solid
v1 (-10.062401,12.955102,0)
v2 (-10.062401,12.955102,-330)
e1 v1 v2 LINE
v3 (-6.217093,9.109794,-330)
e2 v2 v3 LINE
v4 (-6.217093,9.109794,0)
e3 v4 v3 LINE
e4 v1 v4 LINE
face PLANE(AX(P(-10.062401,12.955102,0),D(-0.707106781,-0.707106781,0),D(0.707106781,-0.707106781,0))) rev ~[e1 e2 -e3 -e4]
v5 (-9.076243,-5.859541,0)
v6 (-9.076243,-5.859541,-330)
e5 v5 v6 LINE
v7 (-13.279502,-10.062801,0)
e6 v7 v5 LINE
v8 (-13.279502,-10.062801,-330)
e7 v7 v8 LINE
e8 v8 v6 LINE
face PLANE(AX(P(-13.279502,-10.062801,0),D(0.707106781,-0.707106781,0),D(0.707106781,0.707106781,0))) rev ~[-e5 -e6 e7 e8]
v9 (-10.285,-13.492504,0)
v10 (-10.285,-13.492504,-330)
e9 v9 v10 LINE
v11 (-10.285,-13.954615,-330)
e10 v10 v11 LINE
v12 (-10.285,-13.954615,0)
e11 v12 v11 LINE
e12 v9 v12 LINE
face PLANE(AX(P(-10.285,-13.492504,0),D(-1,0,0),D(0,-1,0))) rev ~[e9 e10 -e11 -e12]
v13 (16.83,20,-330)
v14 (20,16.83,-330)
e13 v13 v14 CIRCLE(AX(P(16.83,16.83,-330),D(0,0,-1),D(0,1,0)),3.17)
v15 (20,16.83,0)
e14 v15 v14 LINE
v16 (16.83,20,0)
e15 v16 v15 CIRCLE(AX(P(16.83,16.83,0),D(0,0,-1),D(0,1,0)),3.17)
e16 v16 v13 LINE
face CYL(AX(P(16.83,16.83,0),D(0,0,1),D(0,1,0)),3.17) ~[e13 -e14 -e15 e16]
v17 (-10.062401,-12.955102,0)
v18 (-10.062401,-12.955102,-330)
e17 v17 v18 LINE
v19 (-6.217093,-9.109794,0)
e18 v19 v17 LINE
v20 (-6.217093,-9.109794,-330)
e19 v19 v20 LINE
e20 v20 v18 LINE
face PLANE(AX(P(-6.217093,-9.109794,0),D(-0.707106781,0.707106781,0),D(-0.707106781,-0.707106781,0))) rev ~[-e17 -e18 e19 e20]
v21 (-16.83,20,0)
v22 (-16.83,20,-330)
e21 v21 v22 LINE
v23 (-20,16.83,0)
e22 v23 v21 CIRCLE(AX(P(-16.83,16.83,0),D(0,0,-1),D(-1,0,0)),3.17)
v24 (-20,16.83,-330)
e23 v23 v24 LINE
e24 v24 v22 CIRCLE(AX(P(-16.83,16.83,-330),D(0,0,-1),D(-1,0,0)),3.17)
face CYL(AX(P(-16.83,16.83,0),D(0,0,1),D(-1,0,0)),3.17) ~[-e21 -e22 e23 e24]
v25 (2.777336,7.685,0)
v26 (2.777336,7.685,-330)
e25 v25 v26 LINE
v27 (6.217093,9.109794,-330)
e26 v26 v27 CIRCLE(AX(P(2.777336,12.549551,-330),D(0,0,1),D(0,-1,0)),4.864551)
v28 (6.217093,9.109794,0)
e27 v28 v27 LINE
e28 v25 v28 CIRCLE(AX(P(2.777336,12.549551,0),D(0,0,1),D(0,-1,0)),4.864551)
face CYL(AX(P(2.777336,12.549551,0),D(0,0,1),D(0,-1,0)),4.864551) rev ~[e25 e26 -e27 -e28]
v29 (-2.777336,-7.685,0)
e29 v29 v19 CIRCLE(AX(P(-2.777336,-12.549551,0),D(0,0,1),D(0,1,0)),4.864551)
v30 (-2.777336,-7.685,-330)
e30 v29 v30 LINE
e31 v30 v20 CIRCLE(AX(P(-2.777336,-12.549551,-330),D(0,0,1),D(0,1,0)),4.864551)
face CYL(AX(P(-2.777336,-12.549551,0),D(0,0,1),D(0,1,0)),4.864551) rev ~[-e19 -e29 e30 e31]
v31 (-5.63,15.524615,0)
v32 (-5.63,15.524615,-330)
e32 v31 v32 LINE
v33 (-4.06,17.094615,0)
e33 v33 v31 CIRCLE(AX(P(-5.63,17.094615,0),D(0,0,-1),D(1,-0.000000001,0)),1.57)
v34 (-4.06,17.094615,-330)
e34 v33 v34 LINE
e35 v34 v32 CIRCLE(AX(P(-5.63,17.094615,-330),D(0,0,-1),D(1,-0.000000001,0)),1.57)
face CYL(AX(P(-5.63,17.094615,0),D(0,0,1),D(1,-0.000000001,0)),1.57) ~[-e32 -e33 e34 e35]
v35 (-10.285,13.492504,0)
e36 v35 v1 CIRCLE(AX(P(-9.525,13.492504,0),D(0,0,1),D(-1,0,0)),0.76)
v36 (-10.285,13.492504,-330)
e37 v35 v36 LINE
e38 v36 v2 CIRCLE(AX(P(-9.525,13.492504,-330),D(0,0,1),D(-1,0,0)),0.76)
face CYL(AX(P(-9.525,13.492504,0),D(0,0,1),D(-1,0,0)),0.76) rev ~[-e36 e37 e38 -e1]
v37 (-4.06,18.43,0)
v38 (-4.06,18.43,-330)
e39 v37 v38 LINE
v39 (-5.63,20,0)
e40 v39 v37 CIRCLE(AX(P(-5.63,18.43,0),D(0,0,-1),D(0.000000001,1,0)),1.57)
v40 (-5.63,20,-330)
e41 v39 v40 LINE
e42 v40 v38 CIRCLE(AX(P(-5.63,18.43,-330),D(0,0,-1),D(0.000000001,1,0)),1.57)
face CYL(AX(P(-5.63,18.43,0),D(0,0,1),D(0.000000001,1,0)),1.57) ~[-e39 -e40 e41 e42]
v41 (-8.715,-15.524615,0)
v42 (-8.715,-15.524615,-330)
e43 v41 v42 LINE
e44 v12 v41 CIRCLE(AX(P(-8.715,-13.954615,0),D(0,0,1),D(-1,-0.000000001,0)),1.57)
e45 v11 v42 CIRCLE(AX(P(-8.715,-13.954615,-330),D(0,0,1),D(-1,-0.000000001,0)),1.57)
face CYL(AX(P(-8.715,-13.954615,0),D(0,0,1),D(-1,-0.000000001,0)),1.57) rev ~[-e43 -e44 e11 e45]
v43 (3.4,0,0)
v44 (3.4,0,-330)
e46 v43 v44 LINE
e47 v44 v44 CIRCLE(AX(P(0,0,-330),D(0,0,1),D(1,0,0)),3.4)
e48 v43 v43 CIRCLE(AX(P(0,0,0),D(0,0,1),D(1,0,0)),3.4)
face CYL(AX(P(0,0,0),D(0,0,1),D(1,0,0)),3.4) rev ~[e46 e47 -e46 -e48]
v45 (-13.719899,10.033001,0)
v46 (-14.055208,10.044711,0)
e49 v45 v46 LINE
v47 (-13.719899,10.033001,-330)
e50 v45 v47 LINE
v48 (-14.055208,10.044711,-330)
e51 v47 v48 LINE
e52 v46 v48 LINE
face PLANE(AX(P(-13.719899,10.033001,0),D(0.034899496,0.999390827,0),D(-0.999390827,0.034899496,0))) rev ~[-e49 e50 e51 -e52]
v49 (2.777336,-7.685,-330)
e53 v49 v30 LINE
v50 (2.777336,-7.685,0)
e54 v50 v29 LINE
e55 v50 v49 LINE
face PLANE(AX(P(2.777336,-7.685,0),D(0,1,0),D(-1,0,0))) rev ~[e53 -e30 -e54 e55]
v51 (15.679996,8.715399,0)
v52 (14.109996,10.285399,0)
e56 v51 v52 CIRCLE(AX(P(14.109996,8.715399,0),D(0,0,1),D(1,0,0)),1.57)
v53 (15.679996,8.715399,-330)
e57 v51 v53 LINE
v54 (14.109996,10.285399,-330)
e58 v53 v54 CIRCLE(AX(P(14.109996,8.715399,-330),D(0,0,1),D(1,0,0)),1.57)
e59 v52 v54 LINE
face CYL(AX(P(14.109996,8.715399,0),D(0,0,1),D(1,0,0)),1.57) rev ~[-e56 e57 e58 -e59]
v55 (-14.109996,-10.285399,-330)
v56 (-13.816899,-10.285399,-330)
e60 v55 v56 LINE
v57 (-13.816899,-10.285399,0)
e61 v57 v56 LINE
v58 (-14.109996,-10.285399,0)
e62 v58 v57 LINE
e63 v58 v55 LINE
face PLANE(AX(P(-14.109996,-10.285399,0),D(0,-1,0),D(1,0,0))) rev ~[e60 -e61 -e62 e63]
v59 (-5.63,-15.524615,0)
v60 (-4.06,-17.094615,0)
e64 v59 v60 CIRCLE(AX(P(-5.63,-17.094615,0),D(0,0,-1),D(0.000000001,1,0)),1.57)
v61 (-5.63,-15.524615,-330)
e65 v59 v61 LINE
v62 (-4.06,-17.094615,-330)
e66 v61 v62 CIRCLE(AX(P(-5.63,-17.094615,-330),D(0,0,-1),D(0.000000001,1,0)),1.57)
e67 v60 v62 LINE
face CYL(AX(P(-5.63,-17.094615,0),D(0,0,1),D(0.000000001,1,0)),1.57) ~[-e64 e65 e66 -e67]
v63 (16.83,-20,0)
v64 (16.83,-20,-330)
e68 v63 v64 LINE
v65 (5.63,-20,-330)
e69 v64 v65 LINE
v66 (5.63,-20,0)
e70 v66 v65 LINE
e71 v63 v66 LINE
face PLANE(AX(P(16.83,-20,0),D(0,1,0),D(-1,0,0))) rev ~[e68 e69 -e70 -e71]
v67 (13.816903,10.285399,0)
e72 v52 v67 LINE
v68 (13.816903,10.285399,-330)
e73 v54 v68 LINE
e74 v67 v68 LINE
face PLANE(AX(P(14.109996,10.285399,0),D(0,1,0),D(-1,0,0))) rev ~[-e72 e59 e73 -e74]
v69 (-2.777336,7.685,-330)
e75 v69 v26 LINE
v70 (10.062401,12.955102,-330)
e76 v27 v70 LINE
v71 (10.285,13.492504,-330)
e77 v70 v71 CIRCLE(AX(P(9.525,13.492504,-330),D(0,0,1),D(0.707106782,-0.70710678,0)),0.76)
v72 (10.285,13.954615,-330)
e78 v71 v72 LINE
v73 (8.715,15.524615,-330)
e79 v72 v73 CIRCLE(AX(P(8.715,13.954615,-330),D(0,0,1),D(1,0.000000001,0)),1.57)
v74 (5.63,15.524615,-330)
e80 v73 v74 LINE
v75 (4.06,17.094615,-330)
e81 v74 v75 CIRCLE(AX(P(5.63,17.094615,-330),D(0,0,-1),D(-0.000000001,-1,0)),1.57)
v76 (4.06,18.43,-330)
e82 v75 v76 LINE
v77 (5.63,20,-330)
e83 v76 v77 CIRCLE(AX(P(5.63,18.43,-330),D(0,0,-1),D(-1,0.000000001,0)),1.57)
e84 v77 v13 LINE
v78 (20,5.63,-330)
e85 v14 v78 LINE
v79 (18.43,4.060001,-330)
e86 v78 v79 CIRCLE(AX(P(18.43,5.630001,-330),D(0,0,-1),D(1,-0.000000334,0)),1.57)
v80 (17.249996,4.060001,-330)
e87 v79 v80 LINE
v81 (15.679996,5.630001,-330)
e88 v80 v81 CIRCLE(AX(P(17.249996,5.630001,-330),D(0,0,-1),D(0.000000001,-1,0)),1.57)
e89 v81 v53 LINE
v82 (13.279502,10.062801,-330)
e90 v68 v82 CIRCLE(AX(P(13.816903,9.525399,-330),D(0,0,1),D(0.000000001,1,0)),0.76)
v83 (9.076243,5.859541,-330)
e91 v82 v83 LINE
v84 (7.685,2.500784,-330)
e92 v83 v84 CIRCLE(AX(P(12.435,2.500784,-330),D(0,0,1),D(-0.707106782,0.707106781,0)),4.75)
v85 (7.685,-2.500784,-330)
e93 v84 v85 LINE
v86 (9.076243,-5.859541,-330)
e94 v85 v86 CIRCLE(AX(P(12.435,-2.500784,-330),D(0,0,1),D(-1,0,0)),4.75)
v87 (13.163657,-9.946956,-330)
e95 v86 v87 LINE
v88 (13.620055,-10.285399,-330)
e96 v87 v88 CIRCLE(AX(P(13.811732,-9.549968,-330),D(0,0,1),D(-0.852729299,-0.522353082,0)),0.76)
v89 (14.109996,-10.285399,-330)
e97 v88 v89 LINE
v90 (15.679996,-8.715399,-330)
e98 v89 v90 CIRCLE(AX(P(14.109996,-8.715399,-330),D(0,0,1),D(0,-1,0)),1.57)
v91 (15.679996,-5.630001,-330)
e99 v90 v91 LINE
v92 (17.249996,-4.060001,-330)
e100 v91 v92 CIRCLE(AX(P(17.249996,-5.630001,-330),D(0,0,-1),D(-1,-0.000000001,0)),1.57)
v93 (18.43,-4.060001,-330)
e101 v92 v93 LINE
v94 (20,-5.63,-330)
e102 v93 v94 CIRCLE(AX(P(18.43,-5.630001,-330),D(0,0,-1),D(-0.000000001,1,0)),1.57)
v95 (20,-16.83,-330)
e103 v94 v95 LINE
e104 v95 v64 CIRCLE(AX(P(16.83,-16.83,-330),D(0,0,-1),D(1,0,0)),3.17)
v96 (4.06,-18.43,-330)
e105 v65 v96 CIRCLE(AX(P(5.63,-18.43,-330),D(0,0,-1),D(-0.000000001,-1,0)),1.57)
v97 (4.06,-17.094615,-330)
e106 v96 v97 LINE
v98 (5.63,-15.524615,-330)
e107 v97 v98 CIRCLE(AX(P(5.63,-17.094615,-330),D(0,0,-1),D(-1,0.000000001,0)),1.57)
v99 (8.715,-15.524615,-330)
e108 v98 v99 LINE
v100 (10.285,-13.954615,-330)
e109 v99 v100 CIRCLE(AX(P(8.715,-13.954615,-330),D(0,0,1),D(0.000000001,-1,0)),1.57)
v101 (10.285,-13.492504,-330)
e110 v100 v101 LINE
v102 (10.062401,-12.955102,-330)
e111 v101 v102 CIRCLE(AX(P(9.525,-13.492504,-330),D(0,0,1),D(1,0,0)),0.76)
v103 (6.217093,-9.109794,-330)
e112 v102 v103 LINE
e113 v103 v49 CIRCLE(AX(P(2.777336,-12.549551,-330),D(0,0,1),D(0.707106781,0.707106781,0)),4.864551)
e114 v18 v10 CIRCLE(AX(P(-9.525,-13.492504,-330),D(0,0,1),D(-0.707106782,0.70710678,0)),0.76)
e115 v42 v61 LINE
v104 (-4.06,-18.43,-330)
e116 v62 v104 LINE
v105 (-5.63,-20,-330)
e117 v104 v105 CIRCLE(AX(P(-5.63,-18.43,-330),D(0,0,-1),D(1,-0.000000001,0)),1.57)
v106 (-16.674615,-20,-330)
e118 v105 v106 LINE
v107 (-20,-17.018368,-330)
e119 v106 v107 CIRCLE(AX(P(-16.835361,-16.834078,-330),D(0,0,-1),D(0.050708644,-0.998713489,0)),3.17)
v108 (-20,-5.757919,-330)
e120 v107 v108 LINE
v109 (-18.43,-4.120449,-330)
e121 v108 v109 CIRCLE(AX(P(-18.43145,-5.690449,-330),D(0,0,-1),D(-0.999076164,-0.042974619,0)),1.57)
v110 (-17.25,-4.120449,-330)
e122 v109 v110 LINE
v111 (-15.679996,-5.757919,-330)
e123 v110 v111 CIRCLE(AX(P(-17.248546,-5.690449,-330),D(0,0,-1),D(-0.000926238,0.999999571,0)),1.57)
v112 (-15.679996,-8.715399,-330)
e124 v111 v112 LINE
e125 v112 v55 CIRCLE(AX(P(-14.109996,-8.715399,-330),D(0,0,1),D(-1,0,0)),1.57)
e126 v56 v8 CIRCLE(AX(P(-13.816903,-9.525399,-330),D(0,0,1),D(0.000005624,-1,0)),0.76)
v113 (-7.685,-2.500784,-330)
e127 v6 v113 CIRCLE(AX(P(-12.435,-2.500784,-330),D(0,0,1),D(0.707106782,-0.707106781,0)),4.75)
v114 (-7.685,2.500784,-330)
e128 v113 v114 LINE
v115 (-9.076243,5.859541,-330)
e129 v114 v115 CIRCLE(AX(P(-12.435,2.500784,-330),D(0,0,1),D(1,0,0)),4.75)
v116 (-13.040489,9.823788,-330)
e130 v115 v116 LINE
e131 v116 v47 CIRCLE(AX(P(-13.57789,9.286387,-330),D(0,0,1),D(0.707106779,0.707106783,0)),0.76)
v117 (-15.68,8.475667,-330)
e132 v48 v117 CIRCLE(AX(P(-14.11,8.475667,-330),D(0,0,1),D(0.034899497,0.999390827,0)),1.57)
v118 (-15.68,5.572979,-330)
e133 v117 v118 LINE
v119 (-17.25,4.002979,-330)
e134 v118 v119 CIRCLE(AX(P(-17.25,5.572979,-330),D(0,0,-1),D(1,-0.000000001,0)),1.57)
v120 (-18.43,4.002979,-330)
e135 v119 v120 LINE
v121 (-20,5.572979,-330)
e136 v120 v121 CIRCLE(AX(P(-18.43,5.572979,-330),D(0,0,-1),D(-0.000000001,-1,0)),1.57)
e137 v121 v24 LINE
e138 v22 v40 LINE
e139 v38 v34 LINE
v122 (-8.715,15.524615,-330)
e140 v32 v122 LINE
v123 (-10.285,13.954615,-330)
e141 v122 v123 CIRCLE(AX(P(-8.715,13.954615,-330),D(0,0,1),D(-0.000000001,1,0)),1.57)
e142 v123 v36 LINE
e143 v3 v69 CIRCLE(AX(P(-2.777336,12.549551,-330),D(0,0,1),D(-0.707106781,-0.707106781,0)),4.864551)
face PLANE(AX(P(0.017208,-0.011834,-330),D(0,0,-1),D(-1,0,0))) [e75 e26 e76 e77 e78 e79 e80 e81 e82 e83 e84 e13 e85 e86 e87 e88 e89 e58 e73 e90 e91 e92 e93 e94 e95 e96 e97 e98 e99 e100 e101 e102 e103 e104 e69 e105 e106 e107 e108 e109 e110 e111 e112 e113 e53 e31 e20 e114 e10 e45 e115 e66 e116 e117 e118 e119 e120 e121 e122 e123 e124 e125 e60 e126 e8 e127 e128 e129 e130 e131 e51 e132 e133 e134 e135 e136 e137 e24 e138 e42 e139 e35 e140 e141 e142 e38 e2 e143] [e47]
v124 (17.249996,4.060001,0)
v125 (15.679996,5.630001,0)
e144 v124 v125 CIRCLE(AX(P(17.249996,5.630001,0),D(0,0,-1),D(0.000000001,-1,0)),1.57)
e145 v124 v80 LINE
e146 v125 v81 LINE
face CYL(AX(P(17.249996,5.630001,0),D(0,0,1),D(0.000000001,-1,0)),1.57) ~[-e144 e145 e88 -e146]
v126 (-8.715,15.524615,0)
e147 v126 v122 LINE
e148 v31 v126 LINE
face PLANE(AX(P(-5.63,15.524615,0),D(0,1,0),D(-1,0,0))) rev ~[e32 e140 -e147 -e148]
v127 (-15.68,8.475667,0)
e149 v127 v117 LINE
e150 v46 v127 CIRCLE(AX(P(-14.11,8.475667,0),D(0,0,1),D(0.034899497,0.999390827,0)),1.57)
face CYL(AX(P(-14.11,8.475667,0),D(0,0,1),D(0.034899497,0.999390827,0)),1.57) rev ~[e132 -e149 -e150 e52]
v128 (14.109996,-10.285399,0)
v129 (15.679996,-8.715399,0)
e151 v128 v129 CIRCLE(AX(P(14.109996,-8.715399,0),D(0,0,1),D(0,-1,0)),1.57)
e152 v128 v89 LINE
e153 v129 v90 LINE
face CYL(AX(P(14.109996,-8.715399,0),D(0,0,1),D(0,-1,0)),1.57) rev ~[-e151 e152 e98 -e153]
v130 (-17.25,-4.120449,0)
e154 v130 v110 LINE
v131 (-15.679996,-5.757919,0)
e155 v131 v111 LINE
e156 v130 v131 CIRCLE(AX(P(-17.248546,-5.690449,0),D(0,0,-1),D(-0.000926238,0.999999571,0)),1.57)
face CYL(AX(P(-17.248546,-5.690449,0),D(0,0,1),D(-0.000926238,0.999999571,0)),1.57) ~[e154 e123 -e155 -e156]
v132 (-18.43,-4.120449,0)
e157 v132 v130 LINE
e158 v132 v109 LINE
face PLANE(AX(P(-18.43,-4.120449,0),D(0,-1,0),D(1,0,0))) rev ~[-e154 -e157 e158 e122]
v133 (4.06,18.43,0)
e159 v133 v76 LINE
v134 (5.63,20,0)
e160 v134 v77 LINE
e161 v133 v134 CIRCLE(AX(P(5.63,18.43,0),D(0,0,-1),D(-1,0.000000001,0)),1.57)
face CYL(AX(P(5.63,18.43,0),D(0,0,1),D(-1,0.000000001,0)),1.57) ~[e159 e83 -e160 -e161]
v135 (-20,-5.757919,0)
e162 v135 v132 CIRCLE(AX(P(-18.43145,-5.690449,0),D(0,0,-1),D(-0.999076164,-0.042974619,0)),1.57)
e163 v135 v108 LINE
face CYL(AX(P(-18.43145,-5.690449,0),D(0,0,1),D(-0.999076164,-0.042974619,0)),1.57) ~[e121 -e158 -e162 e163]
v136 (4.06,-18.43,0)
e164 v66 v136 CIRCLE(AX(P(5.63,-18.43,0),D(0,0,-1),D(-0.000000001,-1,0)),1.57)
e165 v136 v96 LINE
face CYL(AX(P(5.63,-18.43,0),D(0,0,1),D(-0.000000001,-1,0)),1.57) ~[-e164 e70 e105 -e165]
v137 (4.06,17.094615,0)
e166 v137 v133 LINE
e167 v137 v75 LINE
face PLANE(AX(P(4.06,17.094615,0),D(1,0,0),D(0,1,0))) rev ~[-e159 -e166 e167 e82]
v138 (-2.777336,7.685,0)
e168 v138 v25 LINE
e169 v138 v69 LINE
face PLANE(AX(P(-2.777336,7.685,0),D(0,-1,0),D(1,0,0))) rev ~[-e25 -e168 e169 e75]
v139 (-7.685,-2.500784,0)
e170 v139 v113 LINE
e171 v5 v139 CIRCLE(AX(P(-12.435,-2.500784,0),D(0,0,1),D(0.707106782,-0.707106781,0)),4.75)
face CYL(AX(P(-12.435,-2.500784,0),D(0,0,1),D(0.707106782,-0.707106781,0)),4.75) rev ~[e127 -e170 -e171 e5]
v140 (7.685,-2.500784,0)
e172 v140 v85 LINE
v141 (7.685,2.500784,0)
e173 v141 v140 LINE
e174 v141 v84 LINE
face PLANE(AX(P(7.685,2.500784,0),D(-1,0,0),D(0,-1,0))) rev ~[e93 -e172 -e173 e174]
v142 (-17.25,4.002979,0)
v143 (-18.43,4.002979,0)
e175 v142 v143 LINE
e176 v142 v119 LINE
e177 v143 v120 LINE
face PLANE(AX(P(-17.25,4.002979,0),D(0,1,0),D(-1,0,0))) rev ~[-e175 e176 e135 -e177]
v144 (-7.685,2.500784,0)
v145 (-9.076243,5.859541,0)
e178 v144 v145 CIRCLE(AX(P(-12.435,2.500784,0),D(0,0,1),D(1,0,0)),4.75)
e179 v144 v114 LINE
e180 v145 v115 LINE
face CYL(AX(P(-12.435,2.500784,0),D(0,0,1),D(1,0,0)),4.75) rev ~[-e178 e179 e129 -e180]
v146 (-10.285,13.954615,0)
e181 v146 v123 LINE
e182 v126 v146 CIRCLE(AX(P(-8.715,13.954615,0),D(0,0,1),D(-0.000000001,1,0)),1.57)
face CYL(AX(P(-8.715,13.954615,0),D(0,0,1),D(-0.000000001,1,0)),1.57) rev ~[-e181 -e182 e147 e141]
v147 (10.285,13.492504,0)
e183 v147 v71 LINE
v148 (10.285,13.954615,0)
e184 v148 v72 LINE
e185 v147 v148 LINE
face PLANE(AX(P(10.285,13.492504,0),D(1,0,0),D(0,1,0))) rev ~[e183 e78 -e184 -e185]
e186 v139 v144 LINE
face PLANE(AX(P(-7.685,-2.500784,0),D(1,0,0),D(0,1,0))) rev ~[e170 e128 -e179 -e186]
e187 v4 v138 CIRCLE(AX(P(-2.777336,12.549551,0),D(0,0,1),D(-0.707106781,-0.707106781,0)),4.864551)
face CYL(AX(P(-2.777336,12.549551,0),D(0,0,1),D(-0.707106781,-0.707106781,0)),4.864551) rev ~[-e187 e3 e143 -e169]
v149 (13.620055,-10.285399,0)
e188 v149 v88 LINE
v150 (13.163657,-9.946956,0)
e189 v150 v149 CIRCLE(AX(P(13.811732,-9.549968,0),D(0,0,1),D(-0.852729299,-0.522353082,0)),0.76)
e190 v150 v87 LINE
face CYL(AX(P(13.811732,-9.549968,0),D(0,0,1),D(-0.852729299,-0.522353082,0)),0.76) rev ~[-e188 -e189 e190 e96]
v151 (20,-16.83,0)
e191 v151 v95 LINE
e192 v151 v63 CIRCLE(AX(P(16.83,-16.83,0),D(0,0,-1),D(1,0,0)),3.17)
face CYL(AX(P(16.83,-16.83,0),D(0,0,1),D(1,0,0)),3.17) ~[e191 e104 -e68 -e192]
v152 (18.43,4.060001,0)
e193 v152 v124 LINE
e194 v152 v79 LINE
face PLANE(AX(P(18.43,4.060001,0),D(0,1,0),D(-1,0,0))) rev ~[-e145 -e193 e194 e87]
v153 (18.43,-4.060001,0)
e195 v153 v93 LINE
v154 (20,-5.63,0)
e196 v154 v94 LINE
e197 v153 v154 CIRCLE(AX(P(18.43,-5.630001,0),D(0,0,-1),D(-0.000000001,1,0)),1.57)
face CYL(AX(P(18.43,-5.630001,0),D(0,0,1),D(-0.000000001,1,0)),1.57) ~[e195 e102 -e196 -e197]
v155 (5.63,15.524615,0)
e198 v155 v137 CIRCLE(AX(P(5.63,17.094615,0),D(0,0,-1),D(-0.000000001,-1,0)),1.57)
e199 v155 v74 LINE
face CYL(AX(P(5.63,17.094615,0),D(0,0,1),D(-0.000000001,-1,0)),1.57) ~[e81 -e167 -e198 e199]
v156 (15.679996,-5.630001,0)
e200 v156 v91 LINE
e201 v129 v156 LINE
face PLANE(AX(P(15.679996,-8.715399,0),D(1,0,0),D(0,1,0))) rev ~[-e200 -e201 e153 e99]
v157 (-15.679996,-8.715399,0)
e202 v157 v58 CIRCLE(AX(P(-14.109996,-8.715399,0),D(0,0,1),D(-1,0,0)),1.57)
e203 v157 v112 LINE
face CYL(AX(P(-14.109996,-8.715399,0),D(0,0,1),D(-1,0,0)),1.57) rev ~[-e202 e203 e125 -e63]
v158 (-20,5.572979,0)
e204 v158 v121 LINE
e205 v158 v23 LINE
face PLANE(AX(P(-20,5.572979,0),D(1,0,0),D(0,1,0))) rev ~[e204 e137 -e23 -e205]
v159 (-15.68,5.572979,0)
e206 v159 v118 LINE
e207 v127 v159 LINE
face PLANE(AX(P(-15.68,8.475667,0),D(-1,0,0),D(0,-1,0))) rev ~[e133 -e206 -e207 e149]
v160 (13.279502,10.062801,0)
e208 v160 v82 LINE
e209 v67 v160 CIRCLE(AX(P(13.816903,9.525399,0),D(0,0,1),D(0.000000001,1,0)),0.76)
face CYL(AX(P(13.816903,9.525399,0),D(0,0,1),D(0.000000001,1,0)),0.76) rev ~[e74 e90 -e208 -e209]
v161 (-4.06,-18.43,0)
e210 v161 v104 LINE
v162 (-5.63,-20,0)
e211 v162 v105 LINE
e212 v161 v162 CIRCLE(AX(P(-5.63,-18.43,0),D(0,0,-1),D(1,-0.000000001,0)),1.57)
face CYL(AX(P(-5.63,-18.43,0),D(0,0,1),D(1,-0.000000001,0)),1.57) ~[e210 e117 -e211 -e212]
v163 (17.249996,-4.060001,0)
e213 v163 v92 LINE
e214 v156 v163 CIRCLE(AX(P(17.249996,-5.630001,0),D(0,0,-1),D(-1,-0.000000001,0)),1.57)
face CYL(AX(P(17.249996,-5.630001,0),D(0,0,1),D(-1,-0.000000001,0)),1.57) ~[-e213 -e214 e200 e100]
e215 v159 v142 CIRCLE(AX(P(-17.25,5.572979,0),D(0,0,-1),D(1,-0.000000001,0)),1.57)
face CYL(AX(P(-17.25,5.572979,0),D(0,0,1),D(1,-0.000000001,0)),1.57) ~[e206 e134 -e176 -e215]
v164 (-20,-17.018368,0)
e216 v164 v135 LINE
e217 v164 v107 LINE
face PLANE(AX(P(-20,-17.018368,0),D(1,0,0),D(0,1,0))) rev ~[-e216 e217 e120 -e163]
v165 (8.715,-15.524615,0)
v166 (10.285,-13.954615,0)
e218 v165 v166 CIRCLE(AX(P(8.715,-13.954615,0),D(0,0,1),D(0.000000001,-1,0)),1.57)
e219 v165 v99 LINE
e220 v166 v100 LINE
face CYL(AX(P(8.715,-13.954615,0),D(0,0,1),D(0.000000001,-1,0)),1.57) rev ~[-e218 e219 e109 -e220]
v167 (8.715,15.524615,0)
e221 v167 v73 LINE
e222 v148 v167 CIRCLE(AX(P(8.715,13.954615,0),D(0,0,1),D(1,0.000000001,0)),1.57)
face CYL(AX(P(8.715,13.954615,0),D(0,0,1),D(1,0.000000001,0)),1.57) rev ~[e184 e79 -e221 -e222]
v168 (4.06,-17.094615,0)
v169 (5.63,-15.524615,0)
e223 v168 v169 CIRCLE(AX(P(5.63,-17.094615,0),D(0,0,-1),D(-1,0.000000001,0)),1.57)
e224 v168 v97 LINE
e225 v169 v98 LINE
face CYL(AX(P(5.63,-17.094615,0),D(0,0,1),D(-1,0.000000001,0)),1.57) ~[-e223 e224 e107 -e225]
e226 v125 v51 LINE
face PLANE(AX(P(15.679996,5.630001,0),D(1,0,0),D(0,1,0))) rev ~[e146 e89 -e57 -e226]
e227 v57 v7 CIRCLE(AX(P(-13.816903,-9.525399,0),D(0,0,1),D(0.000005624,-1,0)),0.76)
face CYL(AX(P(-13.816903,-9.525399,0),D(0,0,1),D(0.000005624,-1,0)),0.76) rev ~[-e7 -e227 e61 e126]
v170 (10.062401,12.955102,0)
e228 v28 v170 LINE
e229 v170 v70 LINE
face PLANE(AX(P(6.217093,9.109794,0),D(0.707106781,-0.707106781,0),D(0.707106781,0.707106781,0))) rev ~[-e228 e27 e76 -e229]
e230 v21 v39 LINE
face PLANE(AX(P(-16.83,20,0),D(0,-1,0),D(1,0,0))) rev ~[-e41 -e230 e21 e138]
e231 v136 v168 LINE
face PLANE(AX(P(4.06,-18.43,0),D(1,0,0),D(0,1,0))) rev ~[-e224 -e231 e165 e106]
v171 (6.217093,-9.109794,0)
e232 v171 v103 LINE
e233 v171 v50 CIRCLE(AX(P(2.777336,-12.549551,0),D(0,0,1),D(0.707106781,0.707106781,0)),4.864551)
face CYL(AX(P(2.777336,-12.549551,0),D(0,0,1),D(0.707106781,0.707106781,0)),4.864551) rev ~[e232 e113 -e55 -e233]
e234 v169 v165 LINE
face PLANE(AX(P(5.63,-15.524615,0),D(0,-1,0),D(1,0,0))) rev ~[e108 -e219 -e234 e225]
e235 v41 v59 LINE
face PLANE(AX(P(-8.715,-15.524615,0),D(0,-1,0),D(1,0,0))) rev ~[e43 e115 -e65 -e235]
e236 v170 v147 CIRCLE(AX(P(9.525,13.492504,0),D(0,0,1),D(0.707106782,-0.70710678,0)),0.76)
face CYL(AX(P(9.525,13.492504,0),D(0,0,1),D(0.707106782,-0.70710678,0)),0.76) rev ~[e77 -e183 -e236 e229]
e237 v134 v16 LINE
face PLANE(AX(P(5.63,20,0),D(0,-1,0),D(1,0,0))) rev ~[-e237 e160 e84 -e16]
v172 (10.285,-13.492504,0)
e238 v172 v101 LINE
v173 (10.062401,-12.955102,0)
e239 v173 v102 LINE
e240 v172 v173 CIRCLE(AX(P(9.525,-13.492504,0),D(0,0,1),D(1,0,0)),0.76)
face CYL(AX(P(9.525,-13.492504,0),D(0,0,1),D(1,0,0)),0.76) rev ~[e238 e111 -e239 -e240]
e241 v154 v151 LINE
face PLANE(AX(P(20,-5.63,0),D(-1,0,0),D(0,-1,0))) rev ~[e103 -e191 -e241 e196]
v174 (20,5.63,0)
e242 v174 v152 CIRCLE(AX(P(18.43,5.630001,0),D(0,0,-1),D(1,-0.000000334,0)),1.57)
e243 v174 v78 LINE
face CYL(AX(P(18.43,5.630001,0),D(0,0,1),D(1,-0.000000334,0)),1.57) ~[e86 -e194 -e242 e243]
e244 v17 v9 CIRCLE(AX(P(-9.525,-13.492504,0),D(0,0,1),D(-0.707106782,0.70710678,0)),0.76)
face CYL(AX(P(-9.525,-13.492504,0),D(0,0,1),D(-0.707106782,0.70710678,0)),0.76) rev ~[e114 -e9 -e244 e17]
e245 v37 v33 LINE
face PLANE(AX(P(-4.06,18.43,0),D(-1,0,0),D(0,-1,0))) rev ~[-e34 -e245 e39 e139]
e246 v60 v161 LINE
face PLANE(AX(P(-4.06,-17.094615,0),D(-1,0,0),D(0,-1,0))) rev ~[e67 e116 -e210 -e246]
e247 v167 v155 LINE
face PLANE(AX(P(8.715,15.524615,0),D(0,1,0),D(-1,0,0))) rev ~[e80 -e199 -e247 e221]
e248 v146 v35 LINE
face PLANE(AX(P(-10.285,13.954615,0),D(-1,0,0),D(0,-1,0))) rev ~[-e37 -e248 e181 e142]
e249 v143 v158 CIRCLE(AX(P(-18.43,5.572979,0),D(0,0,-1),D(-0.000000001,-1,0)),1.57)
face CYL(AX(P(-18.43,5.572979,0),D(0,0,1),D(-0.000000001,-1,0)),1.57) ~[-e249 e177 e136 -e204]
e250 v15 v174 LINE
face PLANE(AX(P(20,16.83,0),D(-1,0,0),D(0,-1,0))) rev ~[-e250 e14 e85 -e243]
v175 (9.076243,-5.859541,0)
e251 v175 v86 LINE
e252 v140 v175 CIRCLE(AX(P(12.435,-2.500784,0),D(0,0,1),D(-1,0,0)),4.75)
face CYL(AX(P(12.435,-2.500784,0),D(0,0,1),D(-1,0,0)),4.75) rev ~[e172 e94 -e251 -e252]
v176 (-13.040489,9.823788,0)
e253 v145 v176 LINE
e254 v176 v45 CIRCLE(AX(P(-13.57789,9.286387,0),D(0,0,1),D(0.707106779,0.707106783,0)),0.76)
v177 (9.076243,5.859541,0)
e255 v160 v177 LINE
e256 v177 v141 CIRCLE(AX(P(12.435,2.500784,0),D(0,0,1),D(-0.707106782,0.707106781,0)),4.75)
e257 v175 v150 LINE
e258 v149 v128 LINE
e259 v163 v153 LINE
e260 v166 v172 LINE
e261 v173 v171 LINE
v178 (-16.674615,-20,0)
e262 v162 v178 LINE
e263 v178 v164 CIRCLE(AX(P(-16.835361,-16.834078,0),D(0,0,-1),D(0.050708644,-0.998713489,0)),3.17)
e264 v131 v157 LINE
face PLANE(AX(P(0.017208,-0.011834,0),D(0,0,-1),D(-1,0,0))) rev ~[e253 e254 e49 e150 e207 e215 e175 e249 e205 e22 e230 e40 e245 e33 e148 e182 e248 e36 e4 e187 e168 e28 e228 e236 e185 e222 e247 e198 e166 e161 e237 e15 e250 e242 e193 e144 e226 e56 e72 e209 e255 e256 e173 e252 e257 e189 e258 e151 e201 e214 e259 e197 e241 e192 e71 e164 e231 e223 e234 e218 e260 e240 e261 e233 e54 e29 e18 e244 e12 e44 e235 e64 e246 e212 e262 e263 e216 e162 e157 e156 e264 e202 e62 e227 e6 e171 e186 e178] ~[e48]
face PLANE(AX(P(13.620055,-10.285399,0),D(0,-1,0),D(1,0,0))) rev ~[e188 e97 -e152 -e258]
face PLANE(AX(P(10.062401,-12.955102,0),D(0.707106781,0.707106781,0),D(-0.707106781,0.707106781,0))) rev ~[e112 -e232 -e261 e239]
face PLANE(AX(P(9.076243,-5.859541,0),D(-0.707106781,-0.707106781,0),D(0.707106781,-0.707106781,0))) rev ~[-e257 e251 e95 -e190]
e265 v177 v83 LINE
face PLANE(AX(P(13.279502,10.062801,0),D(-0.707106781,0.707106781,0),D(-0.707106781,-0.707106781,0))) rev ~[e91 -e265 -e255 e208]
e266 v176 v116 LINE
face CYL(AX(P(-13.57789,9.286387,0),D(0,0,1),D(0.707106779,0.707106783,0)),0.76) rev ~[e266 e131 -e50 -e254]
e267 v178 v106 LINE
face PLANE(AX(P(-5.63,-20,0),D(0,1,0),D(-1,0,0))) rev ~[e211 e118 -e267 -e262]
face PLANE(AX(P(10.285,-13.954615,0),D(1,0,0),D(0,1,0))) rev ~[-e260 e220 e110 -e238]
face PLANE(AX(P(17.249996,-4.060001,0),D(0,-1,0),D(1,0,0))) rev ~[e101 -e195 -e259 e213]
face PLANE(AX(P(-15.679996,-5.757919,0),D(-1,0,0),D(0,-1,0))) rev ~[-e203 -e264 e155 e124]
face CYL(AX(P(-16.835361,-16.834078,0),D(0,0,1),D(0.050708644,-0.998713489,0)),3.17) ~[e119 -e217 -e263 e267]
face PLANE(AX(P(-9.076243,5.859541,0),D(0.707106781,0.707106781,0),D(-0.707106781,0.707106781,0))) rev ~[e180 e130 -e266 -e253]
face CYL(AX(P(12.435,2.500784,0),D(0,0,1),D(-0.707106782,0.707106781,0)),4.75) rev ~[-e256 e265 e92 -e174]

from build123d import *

# Parameters (mm, degrees)
SKETCH1_R      = 3.4
EXTRUDE1_DEPTH = 330


with BuildPart() as part:
    # Sketch1 → Extrude1 (new body)
    with BuildSketch(Plane.XY):
        with BuildLine():
            Line((-8.715, -15.524615034), (-5.63, -15.524615034))
            ThreePointArc((-5.63, -15.524615034), (-4.519842354, -15.984457388), (-4.06, -17.094615034))
            Line((-4.06, -17.094615034), (-4.06, -18.43))
            ThreePointArc((-4.06, -18.43), (-4.519842354, -19.540157646), (-5.63, -20))
            Line((-5.63, -20), (-16.674615034, -20))
            ThreePointArc((-16.674615034, -20), (-18.951578385, -19.194274381), (-20, -17.018368134))
            Line((-20, -17.018368134), (-20, -5.757918808))
            ThreePointArc((-20, -5.757918808), (-19.564709668, -4.603883664), (-18.43, -4.120449326))
            Line((-18.43, -4.120449326), (-17.25, -4.120449326))
            ThreePointArc((-17.25, -4.120449326), (-16.115287682, -4.60388249), (-15.67999625, -5.757919334))
            Line((-15.67999625, -5.757919334), (-15.67999625, -8.715399492))
            ThreePointArc((-15.67999625, -8.715399492), (-15.220153896, -9.825557139), (-14.10999625, -10.285399492))
            Line((-14.10999625, -10.285399492), (-13.816898819, -10.285399492))
            ThreePointArc((-13.816898819, -10.285399492), (-13.526061711, -10.227547119), (-13.279501941, -10.062800646))
            Line((-13.279501941, -10.062800646), (-9.076242789, -5.859541495))
            ThreePointArc((-9.076242789, -5.859541495), (-8.046572221, -4.318530588), (-7.685, -2.500784284))
            Line((-7.685, -2.500784284), (-7.685, 2.500784284))
            ThreePointArc((-7.685, 2.500784284), (-8.046572221, 4.318530588), (-9.076242789, 5.859541495))
            Line((-9.076242789, 5.859541495), (-13.040489136, 9.823787841))
            ThreePointArc((-13.040489136, 9.823787841), (-13.354224618, 10.012729352), (-13.71989919, 10.033001362))
            Line((-13.71989919, 10.033001362), (-14.05520779, 10.044710596))
            ThreePointArc((-14.05520779, 10.044710596), (-15.200613642, 9.605030484), (-15.68, 8.475666998))
            Line((-15.68, 8.475666998), (-15.68, 5.572979049))
            ThreePointArc((-15.68, 5.572979049), (-16.139842354, 4.462821403), (-17.25, 4.002979049))
            Line((-17.25, 4.002979049), (-18.43, 4.002979049))
            ThreePointArc((-18.43, 4.002979049), (-19.540157646, 4.462821403), (-20, 5.572979049))
            Line((-20, 5.572979049), (-20, 13.004526564))
            Line((-20, 13.004526564), (-20, 16.83))
            ThreePointArc((-20, 16.83), (-19.071528496, 19.071528496), (-16.83, 20))
            Line((-16.83, 20), (-5.63, 20))
            ThreePointArc((-5.63, 20), (-4.519842354, 19.540157646), (-4.06, 18.43))
            Line((-4.06, 18.43), (-4.06, 17.094615034))
            ThreePointArc((-4.06, 17.094615034), (-4.519842354, 15.984457388), (-5.63, 15.524615034))
            Line((-5.63, 15.524615034), (-8.715, 15.524615034))
            ThreePointArc((-8.715, 15.524615034), (-9.825157646, 15.06477268), (-10.285, 13.954615034))
            Line((-10.285, 13.954615034), (-10.285, 13.492503602))
            ThreePointArc((-10.285, 13.492503602), (-10.227148445, 13.201664194), (-10.062401154, 12.955102448))
            Line((-10.062401154, 12.955102448), (-6.217092793, 9.109794088))
            ThreePointArc((-6.217092793, 9.109794088), (-4.63891877, 8.055291919), (-2.777335583, 7.685))
            Line((-2.777335583, 7.685), (2.777335583, 7.685))
            ThreePointArc((2.777335583, 7.685), (4.63891877, 8.055291919), (6.217092793, 9.109794088))
            Line((6.217092793, 9.109794088), (10.062401154, 12.955102448))
            ThreePointArc((10.062401154, 12.955102448), (10.227148445, 13.201664194), (10.285, 13.492503602))
            Line((10.285, 13.492503602), (10.285, 13.954615034))
            ThreePointArc((10.285, 13.954615034), (9.825157646, 15.06477268), (8.715, 15.524615034))
            Line((8.715, 15.524615034), (5.63, 15.524615034))
            ThreePointArc((5.63, 15.524615034), (4.519842354, 15.984457388), (4.06, 17.094615034))
            Line((4.06, 17.094615034), (4.06, 18.43))
            ThreePointArc((4.06, 18.43), (4.519842354, 19.540157646), (5.63, 20))
            Line((5.63, 20), (12.979635074, 20))
            Line((12.979635074, 20), (16.83, 20))
            ThreePointArc((16.83, 20), (19.071528496, 19.071528496), (20, 16.83))
            Line((20, 16.83), (20, 13.001098436))
            Line((20, 13.001098436), (20, 5.63))
            ThreePointArc((20, 5.63), (19.540157461, 4.519842693), (18.43, 4.060000526))
            Line((18.43, 4.060000526), (17.24999625, 4.060000526))
            ThreePointArc((17.24999625, 4.060000526), (16.139838603, 4.519842879), (15.67999625, 5.630000526))
            Line((15.67999625, 5.630000526), (15.67999625, 8.715399492))
            ThreePointArc((15.67999625, 8.715399492), (15.220153896, 9.825557139), (14.10999625, 10.285399492))
            Line((14.10999625, 10.285399492), (13.816903094, 10.285399492))
            ThreePointArc((13.816903094, 10.285399492), (13.526063686, 10.227547937), (13.279501941, 10.062800646))
            Line((13.279501941, 10.062800646), (9.076242789, 5.859541495))
            ThreePointArc((9.076242789, 5.859541495), (8.046572221, 4.318530588), (7.685, 2.500784284))
            Line((7.685, 2.500784284), (7.685, -2.500784284))
            ThreePointArc((7.685, -2.500784284), (8.046572221, -4.318530588), (9.076242789, -5.859541495))
            Line((9.076242789, -5.859541495), (13.163657296, -9.946956002))
            ThreePointArc((13.163657296, -9.946956002), (13.35903797, -10.160433474), (13.6200547, -10.285399492))
            Line((13.6200547, -10.285399492), (14.10999625, -10.285399492))
            ThreePointArc((14.10999625, -10.285399492), (15.220153896, -9.825557139), (15.67999625, -8.715399492))
            Line((15.67999625, -8.715399492), (15.67999625, -5.630000526))
            ThreePointArc((15.67999625, -5.630000526), (16.139838603, -4.519842879), (17.24999625, -4.060000526))
            Line((17.24999625, -4.060000526), (18.43, -4.060000526))
            ThreePointArc((18.43, -4.060000526), (19.540157461, -4.519842693), (20, -5.63))
            Line((20, -5.63), (20, -16.83))
            ThreePointArc((20, -16.83), (19.071528496, -19.071528496), (16.83, -20))
            Line((16.83, -20), (13, -20))
            Line((13, -20), (5.63, -20))
            ThreePointArc((5.63, -20), (4.519842354, -19.540157646), (4.06, -18.43))
            Line((4.06, -18.43), (4.06, -17.094615034))
            ThreePointArc((4.06, -17.094615034), (4.519842354, -15.984457388), (5.63, -15.524615034))
            Line((5.63, -15.524615034), (8.715, -15.524615034))
            ThreePointArc((8.715, -15.524615034), (9.825157646, -15.06477268), (10.285, -13.954615034))
            Line((10.285, -13.954615034), (10.285, -13.492503602))
            ThreePointArc((10.285, -13.492503602), (10.227148445, -13.201664194), (10.062401154, -12.955102448))
            Line((10.062401154, -12.955102448), (6.217092793, -9.109794088))
            ThreePointArc((6.217092793, -9.109794088), (4.63891877, -8.055291919), (2.777335583, -7.685))
            Line((2.777335583, -7.685), (-2.777335583, -7.685))
            ThreePointArc((-2.777335583, -7.685), (-4.63891877, -8.055291919), (-6.217092793, -9.109794088))
            Line((-6.217092793, -9.109794088), (-10.062401154, -12.955102448))
            ThreePointArc((-10.062401154, -12.955102448), (-10.227148445, -13.201664194), (-10.285, -13.492503602))
            Line((-10.285, -13.492503602), (-10.285, -13.954615034))
            ThreePointArc((-10.285, -13.954615034), (-9.825157646, -15.06477268), (-8.715, -15.524615034))
        make_face()
        Circle(SKETCH1_R, mode=Mode.SUBTRACT)
    extrude(amount=-EXTRUDE1_DEPTH)


solid = part.part
